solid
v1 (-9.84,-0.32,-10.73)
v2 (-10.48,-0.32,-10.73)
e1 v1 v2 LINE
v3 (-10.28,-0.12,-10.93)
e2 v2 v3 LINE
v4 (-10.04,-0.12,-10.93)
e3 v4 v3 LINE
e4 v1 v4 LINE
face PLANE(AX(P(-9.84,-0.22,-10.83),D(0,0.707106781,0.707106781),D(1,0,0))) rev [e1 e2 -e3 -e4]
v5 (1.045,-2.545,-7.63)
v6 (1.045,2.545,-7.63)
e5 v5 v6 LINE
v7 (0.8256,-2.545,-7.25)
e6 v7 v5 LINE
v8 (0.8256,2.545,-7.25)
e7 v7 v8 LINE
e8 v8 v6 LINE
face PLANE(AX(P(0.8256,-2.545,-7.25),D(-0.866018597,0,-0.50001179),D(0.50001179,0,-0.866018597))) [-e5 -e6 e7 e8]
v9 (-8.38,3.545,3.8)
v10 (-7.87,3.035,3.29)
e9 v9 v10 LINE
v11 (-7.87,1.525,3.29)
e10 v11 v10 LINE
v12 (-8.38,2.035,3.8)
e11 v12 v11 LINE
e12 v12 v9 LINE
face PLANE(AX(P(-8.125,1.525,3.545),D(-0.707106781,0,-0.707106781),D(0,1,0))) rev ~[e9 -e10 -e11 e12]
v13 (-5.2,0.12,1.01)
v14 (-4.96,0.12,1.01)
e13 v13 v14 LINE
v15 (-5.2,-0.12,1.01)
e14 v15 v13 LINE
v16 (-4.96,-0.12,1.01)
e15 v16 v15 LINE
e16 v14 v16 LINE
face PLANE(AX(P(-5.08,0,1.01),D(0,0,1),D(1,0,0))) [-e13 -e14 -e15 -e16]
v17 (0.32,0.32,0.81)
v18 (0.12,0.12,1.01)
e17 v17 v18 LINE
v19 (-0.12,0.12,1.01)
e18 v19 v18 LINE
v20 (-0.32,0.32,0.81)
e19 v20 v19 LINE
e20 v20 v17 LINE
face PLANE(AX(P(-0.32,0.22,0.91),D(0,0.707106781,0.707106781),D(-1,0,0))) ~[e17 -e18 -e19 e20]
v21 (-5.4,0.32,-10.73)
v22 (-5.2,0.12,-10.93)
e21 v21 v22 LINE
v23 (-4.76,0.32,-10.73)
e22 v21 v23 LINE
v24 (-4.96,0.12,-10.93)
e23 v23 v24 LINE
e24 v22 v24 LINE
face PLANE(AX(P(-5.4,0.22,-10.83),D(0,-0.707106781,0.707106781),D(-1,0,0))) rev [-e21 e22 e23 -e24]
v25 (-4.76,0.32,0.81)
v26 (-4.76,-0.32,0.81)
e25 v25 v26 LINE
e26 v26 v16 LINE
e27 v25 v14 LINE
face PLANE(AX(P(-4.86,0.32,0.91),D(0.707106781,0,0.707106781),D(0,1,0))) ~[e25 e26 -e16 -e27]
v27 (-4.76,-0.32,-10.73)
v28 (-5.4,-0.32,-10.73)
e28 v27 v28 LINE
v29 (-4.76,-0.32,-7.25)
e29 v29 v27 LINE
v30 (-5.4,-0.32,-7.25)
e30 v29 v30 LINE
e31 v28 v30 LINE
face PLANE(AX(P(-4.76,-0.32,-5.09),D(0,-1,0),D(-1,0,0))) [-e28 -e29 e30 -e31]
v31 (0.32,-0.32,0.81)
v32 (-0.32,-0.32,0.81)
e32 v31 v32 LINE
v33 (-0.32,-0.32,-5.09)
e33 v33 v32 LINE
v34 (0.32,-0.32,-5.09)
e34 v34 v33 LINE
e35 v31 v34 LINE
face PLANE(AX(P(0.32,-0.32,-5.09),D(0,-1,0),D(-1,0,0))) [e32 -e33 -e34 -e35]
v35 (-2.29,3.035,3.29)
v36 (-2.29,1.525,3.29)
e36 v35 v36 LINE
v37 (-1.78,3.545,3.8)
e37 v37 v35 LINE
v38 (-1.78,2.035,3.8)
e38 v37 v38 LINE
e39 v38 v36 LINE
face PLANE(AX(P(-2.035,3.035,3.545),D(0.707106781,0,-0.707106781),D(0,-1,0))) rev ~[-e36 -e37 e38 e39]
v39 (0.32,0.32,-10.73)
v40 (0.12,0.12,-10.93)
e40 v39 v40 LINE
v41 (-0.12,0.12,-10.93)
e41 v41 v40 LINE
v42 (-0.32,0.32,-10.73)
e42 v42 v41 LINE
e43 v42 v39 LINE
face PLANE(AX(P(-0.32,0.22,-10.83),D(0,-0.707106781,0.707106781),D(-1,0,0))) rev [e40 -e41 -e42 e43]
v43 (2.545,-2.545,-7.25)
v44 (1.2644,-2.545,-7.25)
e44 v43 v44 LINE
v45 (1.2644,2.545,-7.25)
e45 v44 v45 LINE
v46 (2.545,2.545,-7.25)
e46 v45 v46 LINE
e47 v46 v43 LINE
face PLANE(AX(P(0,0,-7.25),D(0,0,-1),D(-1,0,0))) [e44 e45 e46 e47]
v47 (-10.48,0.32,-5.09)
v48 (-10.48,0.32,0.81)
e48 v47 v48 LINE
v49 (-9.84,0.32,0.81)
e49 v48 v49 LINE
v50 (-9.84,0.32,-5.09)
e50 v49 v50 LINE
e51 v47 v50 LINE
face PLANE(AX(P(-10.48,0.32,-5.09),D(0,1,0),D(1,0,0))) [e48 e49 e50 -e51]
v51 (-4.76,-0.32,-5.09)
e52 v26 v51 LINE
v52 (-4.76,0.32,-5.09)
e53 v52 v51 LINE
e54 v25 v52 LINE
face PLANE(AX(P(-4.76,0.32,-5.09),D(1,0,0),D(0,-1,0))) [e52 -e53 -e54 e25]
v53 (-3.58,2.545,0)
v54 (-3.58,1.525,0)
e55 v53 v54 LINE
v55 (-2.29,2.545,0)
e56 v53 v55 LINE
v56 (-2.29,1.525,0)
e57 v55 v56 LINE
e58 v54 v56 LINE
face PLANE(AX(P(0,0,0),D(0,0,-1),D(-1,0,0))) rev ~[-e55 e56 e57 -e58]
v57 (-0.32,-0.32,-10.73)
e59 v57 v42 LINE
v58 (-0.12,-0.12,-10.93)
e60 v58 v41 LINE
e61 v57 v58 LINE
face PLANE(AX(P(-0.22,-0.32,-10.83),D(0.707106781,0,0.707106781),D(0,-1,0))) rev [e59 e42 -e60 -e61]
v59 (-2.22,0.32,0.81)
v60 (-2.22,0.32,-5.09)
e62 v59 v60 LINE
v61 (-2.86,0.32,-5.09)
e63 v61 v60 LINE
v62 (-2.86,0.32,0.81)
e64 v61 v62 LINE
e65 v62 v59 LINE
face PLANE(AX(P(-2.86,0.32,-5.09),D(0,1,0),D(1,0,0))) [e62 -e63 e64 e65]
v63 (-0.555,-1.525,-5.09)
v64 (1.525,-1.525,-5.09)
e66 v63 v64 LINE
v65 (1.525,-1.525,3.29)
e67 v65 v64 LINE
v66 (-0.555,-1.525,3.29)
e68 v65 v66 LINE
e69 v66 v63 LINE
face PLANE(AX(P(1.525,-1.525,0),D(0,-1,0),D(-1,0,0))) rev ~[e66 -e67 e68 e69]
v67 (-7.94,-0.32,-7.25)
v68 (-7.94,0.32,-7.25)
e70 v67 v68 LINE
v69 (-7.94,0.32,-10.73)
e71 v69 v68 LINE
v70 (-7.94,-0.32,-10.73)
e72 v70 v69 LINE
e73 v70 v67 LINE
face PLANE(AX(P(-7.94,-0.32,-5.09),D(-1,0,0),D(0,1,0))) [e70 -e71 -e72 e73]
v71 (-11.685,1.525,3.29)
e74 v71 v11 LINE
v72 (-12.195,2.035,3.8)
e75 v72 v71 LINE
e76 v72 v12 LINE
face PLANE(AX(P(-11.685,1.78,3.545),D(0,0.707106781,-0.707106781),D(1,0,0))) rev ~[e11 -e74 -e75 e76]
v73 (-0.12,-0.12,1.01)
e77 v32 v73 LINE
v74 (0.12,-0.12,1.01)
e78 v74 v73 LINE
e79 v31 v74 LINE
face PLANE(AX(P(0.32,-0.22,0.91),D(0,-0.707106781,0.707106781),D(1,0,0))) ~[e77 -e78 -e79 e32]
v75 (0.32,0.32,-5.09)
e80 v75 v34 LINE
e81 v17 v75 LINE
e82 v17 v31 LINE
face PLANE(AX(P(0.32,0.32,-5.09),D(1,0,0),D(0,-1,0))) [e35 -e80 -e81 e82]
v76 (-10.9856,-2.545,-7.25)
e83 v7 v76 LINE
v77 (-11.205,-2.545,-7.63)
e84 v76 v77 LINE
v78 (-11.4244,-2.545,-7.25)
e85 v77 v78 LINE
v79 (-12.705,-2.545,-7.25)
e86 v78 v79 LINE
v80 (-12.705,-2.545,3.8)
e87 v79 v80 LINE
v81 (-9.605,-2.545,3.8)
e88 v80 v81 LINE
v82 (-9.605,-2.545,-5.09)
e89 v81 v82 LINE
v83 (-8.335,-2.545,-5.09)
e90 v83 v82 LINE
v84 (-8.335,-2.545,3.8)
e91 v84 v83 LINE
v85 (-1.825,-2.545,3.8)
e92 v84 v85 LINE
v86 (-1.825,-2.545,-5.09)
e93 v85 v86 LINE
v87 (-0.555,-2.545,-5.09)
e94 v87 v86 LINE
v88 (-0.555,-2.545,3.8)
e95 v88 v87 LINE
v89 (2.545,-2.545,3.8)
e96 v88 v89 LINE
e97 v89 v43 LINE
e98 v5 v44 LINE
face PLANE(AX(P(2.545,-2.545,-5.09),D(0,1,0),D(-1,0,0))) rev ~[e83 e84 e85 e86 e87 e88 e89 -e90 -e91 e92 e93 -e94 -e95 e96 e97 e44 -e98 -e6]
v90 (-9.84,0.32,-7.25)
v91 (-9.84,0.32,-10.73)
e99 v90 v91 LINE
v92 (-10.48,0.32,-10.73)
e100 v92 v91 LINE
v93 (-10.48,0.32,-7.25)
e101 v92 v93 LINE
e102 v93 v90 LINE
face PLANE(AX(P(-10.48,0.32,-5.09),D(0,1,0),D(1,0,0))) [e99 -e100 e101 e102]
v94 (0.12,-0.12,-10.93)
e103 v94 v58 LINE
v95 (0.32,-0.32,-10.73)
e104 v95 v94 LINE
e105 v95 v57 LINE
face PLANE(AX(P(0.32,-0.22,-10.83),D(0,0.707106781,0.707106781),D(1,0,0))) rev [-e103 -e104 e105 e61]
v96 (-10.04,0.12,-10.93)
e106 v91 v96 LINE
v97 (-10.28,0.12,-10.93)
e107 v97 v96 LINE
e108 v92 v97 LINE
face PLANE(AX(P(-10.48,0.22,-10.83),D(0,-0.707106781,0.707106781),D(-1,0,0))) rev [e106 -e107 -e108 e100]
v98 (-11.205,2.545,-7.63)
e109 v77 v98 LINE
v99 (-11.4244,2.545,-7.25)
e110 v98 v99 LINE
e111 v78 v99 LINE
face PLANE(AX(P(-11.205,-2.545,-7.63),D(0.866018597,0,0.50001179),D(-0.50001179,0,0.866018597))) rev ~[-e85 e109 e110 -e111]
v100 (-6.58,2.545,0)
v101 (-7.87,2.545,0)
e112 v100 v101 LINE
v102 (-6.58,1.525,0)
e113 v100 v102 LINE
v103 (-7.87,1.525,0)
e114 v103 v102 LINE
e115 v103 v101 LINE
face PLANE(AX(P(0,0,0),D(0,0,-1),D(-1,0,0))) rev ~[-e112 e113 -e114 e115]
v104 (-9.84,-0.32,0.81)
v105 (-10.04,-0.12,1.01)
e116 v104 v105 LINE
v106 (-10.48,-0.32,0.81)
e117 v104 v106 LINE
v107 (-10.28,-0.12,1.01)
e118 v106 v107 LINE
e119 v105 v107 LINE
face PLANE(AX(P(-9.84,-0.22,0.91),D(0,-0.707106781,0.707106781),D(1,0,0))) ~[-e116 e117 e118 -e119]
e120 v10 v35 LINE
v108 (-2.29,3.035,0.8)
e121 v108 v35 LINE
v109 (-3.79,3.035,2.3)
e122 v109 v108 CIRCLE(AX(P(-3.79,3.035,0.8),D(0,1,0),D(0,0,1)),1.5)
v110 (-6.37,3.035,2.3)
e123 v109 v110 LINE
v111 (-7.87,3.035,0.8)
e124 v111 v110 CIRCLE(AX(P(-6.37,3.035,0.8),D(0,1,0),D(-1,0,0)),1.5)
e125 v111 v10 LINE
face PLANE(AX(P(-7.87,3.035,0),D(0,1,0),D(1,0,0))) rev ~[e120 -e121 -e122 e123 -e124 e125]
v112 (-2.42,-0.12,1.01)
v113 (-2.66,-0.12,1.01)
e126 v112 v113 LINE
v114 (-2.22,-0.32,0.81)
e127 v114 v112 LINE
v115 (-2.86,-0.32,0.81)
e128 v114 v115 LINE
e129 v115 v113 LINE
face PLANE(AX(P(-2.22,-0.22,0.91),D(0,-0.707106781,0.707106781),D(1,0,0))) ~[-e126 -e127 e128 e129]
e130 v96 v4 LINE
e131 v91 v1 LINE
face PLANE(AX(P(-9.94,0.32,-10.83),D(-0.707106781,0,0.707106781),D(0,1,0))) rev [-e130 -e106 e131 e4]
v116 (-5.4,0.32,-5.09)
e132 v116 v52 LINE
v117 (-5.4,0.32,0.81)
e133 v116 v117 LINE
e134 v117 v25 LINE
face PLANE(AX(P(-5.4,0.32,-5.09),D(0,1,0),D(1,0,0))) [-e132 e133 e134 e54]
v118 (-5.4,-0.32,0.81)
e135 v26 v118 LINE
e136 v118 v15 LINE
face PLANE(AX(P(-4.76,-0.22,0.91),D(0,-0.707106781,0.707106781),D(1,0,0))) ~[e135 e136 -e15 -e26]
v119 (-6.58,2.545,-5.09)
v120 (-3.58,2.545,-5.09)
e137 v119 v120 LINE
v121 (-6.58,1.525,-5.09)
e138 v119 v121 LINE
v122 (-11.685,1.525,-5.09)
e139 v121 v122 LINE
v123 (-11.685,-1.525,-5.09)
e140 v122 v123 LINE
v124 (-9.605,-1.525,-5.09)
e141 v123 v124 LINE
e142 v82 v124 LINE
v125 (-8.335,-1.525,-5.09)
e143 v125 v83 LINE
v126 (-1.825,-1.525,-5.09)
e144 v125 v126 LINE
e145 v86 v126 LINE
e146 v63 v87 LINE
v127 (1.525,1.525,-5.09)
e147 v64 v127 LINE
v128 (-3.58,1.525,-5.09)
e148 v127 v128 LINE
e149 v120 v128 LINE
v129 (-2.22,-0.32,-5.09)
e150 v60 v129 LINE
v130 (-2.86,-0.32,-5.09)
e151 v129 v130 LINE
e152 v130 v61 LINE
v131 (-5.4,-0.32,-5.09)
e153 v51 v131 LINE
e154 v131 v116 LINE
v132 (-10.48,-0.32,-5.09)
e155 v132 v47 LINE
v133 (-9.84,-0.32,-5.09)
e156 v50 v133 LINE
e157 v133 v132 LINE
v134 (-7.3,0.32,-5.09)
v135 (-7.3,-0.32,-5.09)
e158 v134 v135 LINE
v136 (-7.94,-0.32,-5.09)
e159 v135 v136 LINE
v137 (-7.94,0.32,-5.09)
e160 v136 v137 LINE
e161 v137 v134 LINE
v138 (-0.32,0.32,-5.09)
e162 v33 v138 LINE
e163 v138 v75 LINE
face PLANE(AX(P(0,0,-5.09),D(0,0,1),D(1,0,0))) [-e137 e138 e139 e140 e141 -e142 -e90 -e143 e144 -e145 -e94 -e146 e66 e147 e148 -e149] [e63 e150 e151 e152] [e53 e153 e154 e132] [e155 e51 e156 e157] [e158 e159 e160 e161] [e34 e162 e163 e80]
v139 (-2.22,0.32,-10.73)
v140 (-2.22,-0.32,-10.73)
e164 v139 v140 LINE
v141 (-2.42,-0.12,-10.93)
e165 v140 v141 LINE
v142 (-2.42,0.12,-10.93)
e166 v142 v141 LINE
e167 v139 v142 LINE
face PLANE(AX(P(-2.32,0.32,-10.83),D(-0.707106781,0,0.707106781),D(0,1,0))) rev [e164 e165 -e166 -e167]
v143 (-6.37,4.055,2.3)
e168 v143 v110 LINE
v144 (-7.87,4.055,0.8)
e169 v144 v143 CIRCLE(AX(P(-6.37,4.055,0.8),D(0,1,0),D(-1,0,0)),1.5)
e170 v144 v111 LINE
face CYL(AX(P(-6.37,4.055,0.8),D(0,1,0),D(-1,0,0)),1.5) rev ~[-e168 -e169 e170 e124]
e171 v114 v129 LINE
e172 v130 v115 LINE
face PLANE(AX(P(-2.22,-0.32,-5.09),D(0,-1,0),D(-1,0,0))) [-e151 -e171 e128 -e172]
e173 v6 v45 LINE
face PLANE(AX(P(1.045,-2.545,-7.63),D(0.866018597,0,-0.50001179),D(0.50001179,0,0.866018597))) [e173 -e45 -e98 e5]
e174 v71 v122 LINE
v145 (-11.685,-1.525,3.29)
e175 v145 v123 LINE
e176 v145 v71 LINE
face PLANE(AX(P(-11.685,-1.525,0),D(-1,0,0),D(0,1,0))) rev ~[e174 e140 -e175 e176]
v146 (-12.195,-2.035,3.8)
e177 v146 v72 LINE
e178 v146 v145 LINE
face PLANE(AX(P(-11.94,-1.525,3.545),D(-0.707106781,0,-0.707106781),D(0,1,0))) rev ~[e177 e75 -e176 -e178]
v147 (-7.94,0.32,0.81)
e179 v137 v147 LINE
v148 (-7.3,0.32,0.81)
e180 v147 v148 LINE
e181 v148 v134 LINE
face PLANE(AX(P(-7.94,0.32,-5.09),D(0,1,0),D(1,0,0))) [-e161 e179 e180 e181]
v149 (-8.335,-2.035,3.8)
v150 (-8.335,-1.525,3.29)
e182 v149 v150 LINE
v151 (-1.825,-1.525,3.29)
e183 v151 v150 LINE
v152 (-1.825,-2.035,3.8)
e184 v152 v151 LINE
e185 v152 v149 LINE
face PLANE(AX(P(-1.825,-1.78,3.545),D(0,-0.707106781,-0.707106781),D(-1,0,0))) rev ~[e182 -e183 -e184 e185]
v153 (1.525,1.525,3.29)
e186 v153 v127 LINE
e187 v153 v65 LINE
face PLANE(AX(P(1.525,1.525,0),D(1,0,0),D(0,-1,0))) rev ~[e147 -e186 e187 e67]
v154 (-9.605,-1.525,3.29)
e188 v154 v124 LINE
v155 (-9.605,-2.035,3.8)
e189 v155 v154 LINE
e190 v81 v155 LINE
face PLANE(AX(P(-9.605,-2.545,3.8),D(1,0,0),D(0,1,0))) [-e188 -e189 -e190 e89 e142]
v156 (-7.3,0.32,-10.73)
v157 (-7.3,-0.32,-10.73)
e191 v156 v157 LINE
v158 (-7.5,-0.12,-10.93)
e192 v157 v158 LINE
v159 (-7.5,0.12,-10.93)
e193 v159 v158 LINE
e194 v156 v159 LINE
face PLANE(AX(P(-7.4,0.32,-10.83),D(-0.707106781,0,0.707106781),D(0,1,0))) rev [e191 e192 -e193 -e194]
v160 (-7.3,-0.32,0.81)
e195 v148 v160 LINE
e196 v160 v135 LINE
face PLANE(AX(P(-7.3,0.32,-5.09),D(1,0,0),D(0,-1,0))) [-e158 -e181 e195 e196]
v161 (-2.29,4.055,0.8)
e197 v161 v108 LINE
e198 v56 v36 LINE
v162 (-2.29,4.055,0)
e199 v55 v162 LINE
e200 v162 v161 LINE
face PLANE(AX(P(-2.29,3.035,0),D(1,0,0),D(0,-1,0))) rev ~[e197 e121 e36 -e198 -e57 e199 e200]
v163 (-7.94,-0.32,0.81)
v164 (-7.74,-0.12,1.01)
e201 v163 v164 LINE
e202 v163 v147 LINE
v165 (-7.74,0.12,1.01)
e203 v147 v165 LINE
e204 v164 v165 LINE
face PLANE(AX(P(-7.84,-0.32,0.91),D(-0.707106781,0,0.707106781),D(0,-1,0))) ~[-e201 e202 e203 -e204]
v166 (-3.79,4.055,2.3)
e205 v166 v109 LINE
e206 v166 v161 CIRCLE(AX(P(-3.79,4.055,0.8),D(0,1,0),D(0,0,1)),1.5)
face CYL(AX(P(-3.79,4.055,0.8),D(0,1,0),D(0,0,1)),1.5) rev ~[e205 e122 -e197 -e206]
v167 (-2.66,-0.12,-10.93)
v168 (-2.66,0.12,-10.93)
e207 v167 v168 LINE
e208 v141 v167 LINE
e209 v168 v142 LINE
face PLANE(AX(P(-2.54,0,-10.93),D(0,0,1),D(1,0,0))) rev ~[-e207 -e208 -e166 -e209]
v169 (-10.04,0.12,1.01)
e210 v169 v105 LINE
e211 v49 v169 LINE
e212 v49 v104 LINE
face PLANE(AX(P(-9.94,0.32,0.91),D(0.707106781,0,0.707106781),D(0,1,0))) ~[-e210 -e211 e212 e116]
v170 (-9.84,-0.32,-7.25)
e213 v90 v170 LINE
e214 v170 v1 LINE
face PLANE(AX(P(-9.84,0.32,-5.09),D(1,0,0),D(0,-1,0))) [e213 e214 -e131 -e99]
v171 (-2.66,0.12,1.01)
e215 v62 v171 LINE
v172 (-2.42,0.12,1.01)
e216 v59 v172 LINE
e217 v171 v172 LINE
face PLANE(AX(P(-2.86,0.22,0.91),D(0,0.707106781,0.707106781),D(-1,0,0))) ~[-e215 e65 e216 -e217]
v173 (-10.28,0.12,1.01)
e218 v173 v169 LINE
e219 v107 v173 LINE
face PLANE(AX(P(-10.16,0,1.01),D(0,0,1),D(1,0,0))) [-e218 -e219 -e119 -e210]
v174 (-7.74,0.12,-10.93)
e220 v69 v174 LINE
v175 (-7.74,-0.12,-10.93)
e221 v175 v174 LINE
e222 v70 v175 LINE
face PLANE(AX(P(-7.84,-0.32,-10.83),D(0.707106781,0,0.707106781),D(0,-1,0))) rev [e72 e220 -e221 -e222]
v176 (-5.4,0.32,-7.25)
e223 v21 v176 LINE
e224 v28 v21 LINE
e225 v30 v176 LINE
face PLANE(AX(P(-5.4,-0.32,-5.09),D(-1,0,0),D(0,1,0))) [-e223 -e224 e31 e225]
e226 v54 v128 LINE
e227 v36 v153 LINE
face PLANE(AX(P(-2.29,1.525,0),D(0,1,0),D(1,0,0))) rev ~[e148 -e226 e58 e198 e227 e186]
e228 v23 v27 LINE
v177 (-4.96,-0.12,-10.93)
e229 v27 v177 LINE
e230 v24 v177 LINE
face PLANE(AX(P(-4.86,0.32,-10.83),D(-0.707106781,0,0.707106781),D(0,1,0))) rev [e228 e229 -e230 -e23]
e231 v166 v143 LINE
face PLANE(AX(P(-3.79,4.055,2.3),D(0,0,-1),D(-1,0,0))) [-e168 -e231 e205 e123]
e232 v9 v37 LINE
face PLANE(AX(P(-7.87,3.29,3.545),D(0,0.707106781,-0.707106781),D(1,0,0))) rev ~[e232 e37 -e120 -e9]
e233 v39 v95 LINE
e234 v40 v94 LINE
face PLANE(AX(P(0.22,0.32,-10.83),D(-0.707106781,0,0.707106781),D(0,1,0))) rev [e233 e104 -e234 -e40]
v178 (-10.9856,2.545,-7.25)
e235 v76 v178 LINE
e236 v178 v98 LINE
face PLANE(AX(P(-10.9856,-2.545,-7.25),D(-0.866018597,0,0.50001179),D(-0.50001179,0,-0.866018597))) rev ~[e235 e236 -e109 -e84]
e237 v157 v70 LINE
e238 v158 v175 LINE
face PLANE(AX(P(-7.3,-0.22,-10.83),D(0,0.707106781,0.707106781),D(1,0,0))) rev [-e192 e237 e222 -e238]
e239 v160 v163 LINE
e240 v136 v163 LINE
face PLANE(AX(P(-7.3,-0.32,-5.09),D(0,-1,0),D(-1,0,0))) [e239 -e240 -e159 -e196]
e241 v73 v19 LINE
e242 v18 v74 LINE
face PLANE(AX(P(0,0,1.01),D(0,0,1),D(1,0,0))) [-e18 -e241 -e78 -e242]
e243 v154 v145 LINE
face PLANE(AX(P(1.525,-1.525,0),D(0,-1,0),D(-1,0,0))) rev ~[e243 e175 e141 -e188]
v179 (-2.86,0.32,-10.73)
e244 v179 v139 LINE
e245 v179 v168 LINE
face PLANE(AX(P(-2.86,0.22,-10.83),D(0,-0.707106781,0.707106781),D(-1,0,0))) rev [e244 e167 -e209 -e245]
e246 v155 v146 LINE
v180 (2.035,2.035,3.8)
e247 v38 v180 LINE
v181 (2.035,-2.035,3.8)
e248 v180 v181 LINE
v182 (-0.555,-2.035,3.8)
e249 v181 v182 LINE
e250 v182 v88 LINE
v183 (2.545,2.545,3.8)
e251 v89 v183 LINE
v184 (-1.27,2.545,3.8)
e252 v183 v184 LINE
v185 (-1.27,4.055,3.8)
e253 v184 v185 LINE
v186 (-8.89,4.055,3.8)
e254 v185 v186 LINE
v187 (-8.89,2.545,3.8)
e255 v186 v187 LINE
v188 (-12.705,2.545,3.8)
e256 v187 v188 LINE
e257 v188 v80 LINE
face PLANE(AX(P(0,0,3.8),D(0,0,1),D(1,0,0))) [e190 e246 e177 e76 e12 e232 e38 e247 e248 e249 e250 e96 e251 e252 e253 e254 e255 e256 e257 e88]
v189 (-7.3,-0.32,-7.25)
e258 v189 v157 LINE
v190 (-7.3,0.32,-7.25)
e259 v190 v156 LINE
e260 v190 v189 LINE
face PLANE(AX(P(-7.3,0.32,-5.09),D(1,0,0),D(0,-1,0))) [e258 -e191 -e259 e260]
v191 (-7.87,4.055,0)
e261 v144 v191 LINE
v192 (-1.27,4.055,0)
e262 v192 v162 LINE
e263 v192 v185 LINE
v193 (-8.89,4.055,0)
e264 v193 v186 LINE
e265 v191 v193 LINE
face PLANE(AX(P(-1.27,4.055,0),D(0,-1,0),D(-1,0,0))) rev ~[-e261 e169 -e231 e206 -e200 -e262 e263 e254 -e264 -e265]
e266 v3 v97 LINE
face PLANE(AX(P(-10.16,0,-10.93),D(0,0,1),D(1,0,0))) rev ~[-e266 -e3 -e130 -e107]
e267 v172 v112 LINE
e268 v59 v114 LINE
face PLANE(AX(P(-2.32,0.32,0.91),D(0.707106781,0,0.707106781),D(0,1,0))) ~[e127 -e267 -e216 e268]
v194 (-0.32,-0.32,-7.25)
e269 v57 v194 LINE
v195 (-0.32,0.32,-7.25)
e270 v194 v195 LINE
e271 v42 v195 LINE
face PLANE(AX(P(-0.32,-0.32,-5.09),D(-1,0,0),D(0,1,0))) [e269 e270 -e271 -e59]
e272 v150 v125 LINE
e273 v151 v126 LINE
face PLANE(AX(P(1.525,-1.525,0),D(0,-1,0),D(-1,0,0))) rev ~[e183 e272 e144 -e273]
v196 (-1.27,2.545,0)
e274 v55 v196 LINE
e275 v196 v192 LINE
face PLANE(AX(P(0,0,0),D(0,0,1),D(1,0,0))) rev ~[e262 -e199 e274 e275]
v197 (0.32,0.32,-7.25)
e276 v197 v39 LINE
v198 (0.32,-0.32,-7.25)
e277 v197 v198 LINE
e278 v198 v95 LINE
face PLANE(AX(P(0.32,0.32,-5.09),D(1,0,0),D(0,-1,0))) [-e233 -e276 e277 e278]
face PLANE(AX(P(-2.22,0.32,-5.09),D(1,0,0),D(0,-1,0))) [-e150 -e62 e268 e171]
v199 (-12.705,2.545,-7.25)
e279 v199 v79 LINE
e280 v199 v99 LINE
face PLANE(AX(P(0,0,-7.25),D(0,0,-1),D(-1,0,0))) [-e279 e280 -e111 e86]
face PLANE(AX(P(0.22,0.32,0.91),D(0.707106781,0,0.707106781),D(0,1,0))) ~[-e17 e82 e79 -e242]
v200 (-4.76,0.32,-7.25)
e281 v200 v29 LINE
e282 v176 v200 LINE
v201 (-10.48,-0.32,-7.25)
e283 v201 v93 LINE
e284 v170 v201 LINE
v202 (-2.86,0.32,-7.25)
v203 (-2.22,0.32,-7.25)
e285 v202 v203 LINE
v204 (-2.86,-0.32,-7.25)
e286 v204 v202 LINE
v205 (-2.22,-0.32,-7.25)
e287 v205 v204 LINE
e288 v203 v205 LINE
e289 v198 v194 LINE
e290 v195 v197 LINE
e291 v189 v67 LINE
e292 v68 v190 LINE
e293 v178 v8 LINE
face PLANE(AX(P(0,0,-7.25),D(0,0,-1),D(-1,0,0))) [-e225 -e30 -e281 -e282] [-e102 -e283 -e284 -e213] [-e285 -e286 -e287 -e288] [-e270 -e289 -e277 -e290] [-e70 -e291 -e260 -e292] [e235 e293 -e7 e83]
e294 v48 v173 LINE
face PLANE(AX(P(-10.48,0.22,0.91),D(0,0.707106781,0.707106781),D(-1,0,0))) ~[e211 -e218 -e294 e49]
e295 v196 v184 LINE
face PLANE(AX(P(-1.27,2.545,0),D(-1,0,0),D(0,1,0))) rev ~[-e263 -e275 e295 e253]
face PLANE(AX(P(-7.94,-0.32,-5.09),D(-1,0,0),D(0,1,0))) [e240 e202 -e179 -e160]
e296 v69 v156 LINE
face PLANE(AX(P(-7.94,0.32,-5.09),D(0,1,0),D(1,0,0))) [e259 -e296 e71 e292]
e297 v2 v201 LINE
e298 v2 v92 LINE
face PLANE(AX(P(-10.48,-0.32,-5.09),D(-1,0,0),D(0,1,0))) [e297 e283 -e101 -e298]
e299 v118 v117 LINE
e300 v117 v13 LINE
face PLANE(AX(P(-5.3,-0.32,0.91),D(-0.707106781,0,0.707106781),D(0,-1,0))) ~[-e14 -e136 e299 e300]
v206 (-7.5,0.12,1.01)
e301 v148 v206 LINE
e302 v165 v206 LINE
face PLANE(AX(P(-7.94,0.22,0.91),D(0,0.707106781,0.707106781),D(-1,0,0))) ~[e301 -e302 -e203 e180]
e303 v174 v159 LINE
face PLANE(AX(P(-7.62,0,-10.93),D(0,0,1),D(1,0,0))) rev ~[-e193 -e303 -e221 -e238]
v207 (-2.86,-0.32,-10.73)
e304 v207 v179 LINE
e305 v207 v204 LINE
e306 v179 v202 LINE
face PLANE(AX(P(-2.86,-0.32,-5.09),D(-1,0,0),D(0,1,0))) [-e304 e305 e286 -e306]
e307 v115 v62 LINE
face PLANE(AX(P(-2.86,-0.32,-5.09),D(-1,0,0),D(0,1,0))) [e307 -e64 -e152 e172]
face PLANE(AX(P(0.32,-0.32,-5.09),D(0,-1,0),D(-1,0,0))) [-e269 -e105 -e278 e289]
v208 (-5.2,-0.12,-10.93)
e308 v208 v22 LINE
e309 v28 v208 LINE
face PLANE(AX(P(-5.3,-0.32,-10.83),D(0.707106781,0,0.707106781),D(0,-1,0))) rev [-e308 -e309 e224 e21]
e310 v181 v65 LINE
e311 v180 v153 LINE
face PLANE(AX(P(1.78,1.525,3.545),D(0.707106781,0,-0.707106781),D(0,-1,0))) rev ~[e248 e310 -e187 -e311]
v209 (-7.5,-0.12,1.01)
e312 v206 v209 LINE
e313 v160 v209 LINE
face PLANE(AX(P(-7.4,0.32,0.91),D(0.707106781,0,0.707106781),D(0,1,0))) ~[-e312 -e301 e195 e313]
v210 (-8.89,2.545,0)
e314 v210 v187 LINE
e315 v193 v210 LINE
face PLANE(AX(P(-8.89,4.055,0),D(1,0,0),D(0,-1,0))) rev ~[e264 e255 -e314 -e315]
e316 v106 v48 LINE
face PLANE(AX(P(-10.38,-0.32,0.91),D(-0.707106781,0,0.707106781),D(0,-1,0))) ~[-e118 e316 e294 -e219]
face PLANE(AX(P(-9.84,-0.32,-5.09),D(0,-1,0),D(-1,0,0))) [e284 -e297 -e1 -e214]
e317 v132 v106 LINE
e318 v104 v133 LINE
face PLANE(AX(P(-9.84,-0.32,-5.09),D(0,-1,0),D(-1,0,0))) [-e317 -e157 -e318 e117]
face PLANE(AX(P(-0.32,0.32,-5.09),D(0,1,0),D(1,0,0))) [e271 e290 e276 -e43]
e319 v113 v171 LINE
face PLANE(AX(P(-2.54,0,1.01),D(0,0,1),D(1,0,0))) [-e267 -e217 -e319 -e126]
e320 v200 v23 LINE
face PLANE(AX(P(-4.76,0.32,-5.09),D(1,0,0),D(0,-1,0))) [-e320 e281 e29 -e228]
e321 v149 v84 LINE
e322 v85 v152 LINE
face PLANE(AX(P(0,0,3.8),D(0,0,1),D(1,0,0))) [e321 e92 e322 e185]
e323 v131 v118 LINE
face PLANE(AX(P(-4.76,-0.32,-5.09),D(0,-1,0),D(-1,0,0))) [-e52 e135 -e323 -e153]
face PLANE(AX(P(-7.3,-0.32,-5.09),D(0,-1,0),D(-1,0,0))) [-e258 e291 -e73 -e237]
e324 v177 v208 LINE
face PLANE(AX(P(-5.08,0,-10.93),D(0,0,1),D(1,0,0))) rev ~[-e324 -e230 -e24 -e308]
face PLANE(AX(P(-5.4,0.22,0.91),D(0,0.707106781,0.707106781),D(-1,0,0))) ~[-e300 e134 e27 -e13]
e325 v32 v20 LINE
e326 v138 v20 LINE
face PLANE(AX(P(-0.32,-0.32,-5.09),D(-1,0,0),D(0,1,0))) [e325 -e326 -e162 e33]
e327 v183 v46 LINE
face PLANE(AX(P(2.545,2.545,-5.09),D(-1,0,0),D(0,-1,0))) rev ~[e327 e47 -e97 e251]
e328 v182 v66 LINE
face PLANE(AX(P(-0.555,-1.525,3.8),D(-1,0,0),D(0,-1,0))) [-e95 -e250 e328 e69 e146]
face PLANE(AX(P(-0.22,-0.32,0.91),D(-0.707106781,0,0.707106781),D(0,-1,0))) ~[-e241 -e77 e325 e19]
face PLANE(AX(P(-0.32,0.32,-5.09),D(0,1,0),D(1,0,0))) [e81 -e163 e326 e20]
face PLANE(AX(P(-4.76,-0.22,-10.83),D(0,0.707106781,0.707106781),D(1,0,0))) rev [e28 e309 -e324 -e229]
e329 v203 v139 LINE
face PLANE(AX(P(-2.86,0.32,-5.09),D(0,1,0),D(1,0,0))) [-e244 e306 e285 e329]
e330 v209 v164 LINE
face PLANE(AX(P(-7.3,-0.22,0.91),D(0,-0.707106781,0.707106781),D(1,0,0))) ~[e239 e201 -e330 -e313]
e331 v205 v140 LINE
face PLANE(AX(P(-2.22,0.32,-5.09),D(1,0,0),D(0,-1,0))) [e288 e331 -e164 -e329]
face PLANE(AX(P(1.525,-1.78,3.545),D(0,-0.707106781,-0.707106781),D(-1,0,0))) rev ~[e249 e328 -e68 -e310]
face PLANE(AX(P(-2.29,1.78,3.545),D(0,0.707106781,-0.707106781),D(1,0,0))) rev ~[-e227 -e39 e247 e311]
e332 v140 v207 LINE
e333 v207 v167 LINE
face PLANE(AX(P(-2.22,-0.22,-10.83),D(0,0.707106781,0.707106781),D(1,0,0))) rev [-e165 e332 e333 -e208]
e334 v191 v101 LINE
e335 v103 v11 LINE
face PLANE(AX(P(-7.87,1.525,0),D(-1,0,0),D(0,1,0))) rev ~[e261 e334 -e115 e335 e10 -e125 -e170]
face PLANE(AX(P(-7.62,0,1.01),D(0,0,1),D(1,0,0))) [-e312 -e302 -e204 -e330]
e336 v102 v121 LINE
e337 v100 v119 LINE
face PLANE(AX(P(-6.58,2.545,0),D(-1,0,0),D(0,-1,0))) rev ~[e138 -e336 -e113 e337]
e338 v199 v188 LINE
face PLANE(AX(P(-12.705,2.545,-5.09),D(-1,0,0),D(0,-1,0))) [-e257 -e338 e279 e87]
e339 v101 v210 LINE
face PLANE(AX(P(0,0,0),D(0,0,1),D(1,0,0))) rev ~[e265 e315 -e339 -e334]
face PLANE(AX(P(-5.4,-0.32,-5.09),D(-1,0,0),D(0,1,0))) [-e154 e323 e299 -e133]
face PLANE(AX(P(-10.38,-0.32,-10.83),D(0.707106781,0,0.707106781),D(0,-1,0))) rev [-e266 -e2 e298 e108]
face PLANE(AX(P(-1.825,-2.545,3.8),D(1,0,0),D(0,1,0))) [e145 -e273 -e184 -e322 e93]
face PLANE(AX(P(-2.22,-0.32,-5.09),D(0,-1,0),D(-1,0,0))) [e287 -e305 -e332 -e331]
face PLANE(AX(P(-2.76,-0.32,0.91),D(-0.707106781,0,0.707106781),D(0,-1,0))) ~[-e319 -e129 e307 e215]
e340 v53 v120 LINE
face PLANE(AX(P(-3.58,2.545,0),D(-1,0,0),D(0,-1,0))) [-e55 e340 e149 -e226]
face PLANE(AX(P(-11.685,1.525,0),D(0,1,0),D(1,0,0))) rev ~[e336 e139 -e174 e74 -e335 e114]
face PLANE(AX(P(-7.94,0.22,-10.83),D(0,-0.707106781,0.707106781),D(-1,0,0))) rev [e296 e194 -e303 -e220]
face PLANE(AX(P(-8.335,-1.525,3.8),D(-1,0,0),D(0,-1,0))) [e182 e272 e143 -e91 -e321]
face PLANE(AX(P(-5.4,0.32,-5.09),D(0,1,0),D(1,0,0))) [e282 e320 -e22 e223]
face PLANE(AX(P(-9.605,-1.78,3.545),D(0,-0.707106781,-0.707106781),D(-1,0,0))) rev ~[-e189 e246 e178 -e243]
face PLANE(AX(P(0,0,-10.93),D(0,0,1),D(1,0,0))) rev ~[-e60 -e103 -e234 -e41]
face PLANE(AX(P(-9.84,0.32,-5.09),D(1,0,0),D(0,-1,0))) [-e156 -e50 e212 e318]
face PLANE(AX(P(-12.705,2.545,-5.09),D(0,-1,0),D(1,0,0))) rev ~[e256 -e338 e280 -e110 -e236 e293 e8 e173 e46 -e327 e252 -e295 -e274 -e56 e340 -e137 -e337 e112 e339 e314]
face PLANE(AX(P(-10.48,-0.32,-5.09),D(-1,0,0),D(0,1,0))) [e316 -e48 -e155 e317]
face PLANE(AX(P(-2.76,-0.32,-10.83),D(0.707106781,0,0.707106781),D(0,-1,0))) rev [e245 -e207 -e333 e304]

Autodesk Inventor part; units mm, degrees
ref_plane "YZ Plane" through (0, 0, 0) normal (1, 0, 0) x (0, 1, 0)
ref_plane "XZ Plane" through (0, 0, 0) normal (0, 1, 0) x (-1, 0, 0)
ref_plane "XY Plane" through (0, 0, 0) normal (0, 0, 1) x (1, 0, 0)
sketch "Skizze1" plane through (0, 0, 0) normal (0, 0, 1) x (1, 0, 0)
  line L0 (-12.705, -2.545) -> (2.545, -2.545)
  line L1 (2.545, -2.545) -> (2.545, 2.545)
  line L2 (2.545, 2.545) -> (-1.27, 2.545)
  line L3 (-1.27, 2.545) -> (-1.27, 4.055)
  line L4 (-1.27, 4.055) -> (-8.89, 4.055)
  line L5 (-8.89, 4.055) -> (-8.89, 2.545)
  line L6 (-8.89, 2.545) -> (-12.705, 2.545)
  line L7 (-12.705, 2.545) -> (-12.705, -2.545)
  line L8 (-7.87, 3.035) -> (-2.29, 3.035)
  line L9 (-2.29, 3.035) -> (-2.29, 1.525)
  line L10 (-2.29, 1.525) -> (1.525, 1.525)
  line L11 (1.525, 1.525) -> (1.525, -1.525)
  line L12 (1.525, -1.525) -> (-11.685, -1.525)
  line L13 (-11.685, -1.525) -> (-11.685, 1.525)
  line L14 (-11.685, 1.525) -> (-7.87, 1.525)
  line L15 (-7.87, 1.525) -> (-7.87, 3.035)
  line L16 (-11.685, 0) -> (-10.16, 0) construction
  line L17 (-10.16, 0) -> (0, 0) construction
  line L18 (0, 0) -> (1.525, 0) construction
  point P0 (0, -2.035)
  dimension "d0" = 1.02
  dimension "d1" = 3.05
  dimension "d3" = 7.62
  dimension "d4" = 6.6
  dimension "d5" = 1.525
  dimension "d6" = 10.16
extrude "Extrusion1" add sketch "Skizze1" along normal blind 3.8
sketch "Skizze2" plane through (0, 0, 0) normal (0, 0, -1) x (-1, 0, 0)
  line L0 (-2.545, -2.545) -> (-2.545, 2.545) projected
  line L1 (-2.545, 2.545) -> (1.27, 2.545) projected
  line L2 (-1.525, 1.525) -> (2.29, 1.525) projected
  line L3 (-1.525, -1.525) -> (-1.525, 1.525) projected
  line L4 (11.685, -1.525) -> (-1.525, -1.525) projected
  line L5 (12.705, -2.545) -> (-2.545, -2.545) projected
  line L6 (12.705, 2.545) -> (12.705, -2.545) projected
  line L7 (11.685, 1.525) -> (11.685, -1.525) projected
  line L8 (7.87, 1.525) -> (11.685, 1.525) projected
  line L9 (8.89, 2.545) -> (12.705, 2.545) projected
  line L10 (2.29, 1.525) -> (3.58, 1.525)
  line L11 (1.27, 2.545) -> (1.27, 4.055) projected
  line L12 (1.27, 2.545) -> (3.58, 2.545)
  line L13 (3.58, 2.545) -> (3.58, 1.525)
  line L14 (7.87, 1.525) -> (7.87, 3.035) projected
  line L15 (7.87, 1.525) -> (6.58, 1.525)
  line L16 (8.89, 2.545) -> (6.58, 2.545)
  line L17 (6.58, 2.545) -> (6.58, 1.525)
  point P0 (0, 0)
  dimension "d9" = 3
extrude "Extrusion2" add sketch "Skizze2" along normal blind 5.09
sketch "Skizze3" plane through (0, 0, -5.09) normal (0, 0, -1) x (-1, 0, 0)
  line L0 (-2.545, 2.545) -> (-2.545, -2.545) projected
  line L1 (12.705, 2.545) -> (12.705, -2.545) projected
  line L2 (-2.545, -2.545) -> (12.705, -2.545)
  line L3 (12.705, -2.545) -> (12.705, 2.545)
  line L4 (12.705, 2.545) -> (-2.545, 2.545)
  line L5 (-2.545, 2.545) -> (-2.545, -2.545)
  point P0 (0, 0)
extrude "Extrusion3" add sketch "Skizze3" along normal blind 2.16
sketch "Skizze4" plane through (-8.89, 4.055, 0) normal (0, 1, 0) x (1, 0, 0)
  line L0 (7.62, -3.8) -> (0, -3.8) construction
  line L1 (1.02, 0) -> (2.31, 0) projected
  line L2 (5.1, -2.3) -> (2.52, -2.3)
  line L3 (1.02, -0.8) -> (1.02, 0)
  line L4 (1.02, 0) -> (6.6, 0)
  line L5 (6.6, 0) -> (6.6, -0.8)
  arc A0 (5.1, -2.3) -> (6.6, -0.8) centre (5.1, -0.8) ccw
  arc A1 (1.02, -0.8) -> (2.52, -2.3) centre (2.52, -0.8) ccw
  line L6 (0, 0) -> (0, -3.8) construction
  line L7 (6.6, 0) -> (6.6, -3.8) construction
  line L8 (6.6, 0) -> (6.6, -3.8) construction
  line L9 (1.02, 0) -> (1.02, -3.8) construction
  line L10 (1.02, 0) -> (1.02, -3.8) construction
  point P0 (8.89, 0)
  dimension "d14" = 1.5
  dimension "d15" = 1.5
extrude "Extrusion4" cut sketch "Skizze4" against normal up to surface (1.02 mm away)
sketch "Skizze5" plane through (-12.705, -2.545, 3.8) normal (0, -1, 0) x (1, 0, 0)
  line L0 (0, -11.05) -> (1.2806, -11.05) construction
  line L1 (15.25, -11.05) -> (13.9694, -11.05) construction
  line L2 (1.2806, -11.05) -> (1.7194, -11.05)
  line L3 (1.7194, -11.05) -> (13.5306, -11.05) construction
  line L4 (13.5306, -11.05) -> (13.9694, -11.05)
  line L5 (13.5306, -11.05) -> (13.75, -11.43)
  line L6 (13.75, -11.43) -> (13.9694, -11.05)
  line L7 (1.7194, -11.05) -> (1.5, -11.43)
  line L8 (1.5, -11.43) -> (1.2806, -11.05)
  line L9 (15.25, -11.05) -> (15.25, 0) projected
  point P0 (12.705, -3.8)
  point P1 (0, -11.05)
  dimension "d18" = 0.38
  dimension "d19" = 1.5
extrude "Extrusion5" add sketch "Skizze5" against normal up to surface (5.09 mm away)
sketch "Skizze6" plane through (0, 0, -5.09) normal (0, 0, 1) x (1, 0, 0)
  line L0 (-0.32, 0.32) -> (0.32, 0.32)
  line L1 (0.32, 0.32) -> (0.32, -0.32)
  line L2 (0.32, -0.32) -> (-0.32, -0.32)
  line L3 (-0.32, -0.32) -> (-0.32, 0.32)
  line L4 (0.32, -0.32) -> (-0.32, 0.32) construction
  point P0 (0, 0)
  point P1 (0, 0)
  dimension "d22" = 0.64
extrude "Extrusion6" add sketch "Skizze6" along normal blind 6.1 and the other way blind 5.84
chamfer "Fase1" distance 0.2 angle 45 8 edges at (0, 0.32, 1.01) (0.32, 0, 1.01) (0, -0.32, 1.01) (-0.32, 0, 1.01) (0.32, 0, -10.93) (-0.32, 0, -10.93) (0, -0.32, -10.93) (0, 0.32, -10.93)
pattern_linear "Rechteckige Anordnung1" count 5 spacing 2.54 along (-1, 0, 0) of "Extrusion6", "Fase1"
sketch "Skizze8" plane through (0, 0, 3.8) normal (0, 0, 1) x (1, 0, 0)
  line L0 (1.525, -1.525) -> (-11.685, -1.525) construction
  line L1 (-12.705, -2.545) -> (2.545, -2.545) construction
  line L2 (-1.825, -2.035) -> (-8.335, -2.035) construction
  line L3 (-5.08, -2.545) -> (-5.08, -2.035) construction
  line L4 (-9.605, -1.525) -> (-8.335, -1.525)
  line L5 (-8.335, -1.525) -> (-8.335, -2.545)
  line L6 (-8.335, -2.545) -> (-9.605, -2.545)
  line L7 (-9.605, -2.545) -> (-9.605, -1.525)
  line L8 (-1.825, -1.525) -> (-0.555, -1.525)
  line L9 (-0.555, -1.525) -> (-0.555, -2.545)
  line L10 (-0.555, -2.545) -> (-1.825, -2.545)
  line L11 (-1.825, -2.545) -> (-1.825, -1.525)
  line L12 (-12.705, 2.545) -> (-12.705, -2.545) projected
  point P0 (0, 0)
  dimension "d33" = 1.27
  dimension "d34" = 3.1
extrude "Extrusion7" cut sketch "Skizze8" against normal up to surface (8.89 mm away)
chamfer "Fase2" distance 0.51 angle 45 10 edges at (-11.685, 0, 3.8) (-10.645, -1.525, 3.8) (-9.7775, 1.525, 3.8) (-7.87, 2.28, 3.8) (-5.08, 3.035, 3.8) (-2.29, 2.28, 3.8) (-0.3825, 1.525, 3.8) (1.525, 0, 3.8) (0.485, -1.525, 3.8) (-5.08, -1.525, 3.8)
properties part number "Molex_5"
